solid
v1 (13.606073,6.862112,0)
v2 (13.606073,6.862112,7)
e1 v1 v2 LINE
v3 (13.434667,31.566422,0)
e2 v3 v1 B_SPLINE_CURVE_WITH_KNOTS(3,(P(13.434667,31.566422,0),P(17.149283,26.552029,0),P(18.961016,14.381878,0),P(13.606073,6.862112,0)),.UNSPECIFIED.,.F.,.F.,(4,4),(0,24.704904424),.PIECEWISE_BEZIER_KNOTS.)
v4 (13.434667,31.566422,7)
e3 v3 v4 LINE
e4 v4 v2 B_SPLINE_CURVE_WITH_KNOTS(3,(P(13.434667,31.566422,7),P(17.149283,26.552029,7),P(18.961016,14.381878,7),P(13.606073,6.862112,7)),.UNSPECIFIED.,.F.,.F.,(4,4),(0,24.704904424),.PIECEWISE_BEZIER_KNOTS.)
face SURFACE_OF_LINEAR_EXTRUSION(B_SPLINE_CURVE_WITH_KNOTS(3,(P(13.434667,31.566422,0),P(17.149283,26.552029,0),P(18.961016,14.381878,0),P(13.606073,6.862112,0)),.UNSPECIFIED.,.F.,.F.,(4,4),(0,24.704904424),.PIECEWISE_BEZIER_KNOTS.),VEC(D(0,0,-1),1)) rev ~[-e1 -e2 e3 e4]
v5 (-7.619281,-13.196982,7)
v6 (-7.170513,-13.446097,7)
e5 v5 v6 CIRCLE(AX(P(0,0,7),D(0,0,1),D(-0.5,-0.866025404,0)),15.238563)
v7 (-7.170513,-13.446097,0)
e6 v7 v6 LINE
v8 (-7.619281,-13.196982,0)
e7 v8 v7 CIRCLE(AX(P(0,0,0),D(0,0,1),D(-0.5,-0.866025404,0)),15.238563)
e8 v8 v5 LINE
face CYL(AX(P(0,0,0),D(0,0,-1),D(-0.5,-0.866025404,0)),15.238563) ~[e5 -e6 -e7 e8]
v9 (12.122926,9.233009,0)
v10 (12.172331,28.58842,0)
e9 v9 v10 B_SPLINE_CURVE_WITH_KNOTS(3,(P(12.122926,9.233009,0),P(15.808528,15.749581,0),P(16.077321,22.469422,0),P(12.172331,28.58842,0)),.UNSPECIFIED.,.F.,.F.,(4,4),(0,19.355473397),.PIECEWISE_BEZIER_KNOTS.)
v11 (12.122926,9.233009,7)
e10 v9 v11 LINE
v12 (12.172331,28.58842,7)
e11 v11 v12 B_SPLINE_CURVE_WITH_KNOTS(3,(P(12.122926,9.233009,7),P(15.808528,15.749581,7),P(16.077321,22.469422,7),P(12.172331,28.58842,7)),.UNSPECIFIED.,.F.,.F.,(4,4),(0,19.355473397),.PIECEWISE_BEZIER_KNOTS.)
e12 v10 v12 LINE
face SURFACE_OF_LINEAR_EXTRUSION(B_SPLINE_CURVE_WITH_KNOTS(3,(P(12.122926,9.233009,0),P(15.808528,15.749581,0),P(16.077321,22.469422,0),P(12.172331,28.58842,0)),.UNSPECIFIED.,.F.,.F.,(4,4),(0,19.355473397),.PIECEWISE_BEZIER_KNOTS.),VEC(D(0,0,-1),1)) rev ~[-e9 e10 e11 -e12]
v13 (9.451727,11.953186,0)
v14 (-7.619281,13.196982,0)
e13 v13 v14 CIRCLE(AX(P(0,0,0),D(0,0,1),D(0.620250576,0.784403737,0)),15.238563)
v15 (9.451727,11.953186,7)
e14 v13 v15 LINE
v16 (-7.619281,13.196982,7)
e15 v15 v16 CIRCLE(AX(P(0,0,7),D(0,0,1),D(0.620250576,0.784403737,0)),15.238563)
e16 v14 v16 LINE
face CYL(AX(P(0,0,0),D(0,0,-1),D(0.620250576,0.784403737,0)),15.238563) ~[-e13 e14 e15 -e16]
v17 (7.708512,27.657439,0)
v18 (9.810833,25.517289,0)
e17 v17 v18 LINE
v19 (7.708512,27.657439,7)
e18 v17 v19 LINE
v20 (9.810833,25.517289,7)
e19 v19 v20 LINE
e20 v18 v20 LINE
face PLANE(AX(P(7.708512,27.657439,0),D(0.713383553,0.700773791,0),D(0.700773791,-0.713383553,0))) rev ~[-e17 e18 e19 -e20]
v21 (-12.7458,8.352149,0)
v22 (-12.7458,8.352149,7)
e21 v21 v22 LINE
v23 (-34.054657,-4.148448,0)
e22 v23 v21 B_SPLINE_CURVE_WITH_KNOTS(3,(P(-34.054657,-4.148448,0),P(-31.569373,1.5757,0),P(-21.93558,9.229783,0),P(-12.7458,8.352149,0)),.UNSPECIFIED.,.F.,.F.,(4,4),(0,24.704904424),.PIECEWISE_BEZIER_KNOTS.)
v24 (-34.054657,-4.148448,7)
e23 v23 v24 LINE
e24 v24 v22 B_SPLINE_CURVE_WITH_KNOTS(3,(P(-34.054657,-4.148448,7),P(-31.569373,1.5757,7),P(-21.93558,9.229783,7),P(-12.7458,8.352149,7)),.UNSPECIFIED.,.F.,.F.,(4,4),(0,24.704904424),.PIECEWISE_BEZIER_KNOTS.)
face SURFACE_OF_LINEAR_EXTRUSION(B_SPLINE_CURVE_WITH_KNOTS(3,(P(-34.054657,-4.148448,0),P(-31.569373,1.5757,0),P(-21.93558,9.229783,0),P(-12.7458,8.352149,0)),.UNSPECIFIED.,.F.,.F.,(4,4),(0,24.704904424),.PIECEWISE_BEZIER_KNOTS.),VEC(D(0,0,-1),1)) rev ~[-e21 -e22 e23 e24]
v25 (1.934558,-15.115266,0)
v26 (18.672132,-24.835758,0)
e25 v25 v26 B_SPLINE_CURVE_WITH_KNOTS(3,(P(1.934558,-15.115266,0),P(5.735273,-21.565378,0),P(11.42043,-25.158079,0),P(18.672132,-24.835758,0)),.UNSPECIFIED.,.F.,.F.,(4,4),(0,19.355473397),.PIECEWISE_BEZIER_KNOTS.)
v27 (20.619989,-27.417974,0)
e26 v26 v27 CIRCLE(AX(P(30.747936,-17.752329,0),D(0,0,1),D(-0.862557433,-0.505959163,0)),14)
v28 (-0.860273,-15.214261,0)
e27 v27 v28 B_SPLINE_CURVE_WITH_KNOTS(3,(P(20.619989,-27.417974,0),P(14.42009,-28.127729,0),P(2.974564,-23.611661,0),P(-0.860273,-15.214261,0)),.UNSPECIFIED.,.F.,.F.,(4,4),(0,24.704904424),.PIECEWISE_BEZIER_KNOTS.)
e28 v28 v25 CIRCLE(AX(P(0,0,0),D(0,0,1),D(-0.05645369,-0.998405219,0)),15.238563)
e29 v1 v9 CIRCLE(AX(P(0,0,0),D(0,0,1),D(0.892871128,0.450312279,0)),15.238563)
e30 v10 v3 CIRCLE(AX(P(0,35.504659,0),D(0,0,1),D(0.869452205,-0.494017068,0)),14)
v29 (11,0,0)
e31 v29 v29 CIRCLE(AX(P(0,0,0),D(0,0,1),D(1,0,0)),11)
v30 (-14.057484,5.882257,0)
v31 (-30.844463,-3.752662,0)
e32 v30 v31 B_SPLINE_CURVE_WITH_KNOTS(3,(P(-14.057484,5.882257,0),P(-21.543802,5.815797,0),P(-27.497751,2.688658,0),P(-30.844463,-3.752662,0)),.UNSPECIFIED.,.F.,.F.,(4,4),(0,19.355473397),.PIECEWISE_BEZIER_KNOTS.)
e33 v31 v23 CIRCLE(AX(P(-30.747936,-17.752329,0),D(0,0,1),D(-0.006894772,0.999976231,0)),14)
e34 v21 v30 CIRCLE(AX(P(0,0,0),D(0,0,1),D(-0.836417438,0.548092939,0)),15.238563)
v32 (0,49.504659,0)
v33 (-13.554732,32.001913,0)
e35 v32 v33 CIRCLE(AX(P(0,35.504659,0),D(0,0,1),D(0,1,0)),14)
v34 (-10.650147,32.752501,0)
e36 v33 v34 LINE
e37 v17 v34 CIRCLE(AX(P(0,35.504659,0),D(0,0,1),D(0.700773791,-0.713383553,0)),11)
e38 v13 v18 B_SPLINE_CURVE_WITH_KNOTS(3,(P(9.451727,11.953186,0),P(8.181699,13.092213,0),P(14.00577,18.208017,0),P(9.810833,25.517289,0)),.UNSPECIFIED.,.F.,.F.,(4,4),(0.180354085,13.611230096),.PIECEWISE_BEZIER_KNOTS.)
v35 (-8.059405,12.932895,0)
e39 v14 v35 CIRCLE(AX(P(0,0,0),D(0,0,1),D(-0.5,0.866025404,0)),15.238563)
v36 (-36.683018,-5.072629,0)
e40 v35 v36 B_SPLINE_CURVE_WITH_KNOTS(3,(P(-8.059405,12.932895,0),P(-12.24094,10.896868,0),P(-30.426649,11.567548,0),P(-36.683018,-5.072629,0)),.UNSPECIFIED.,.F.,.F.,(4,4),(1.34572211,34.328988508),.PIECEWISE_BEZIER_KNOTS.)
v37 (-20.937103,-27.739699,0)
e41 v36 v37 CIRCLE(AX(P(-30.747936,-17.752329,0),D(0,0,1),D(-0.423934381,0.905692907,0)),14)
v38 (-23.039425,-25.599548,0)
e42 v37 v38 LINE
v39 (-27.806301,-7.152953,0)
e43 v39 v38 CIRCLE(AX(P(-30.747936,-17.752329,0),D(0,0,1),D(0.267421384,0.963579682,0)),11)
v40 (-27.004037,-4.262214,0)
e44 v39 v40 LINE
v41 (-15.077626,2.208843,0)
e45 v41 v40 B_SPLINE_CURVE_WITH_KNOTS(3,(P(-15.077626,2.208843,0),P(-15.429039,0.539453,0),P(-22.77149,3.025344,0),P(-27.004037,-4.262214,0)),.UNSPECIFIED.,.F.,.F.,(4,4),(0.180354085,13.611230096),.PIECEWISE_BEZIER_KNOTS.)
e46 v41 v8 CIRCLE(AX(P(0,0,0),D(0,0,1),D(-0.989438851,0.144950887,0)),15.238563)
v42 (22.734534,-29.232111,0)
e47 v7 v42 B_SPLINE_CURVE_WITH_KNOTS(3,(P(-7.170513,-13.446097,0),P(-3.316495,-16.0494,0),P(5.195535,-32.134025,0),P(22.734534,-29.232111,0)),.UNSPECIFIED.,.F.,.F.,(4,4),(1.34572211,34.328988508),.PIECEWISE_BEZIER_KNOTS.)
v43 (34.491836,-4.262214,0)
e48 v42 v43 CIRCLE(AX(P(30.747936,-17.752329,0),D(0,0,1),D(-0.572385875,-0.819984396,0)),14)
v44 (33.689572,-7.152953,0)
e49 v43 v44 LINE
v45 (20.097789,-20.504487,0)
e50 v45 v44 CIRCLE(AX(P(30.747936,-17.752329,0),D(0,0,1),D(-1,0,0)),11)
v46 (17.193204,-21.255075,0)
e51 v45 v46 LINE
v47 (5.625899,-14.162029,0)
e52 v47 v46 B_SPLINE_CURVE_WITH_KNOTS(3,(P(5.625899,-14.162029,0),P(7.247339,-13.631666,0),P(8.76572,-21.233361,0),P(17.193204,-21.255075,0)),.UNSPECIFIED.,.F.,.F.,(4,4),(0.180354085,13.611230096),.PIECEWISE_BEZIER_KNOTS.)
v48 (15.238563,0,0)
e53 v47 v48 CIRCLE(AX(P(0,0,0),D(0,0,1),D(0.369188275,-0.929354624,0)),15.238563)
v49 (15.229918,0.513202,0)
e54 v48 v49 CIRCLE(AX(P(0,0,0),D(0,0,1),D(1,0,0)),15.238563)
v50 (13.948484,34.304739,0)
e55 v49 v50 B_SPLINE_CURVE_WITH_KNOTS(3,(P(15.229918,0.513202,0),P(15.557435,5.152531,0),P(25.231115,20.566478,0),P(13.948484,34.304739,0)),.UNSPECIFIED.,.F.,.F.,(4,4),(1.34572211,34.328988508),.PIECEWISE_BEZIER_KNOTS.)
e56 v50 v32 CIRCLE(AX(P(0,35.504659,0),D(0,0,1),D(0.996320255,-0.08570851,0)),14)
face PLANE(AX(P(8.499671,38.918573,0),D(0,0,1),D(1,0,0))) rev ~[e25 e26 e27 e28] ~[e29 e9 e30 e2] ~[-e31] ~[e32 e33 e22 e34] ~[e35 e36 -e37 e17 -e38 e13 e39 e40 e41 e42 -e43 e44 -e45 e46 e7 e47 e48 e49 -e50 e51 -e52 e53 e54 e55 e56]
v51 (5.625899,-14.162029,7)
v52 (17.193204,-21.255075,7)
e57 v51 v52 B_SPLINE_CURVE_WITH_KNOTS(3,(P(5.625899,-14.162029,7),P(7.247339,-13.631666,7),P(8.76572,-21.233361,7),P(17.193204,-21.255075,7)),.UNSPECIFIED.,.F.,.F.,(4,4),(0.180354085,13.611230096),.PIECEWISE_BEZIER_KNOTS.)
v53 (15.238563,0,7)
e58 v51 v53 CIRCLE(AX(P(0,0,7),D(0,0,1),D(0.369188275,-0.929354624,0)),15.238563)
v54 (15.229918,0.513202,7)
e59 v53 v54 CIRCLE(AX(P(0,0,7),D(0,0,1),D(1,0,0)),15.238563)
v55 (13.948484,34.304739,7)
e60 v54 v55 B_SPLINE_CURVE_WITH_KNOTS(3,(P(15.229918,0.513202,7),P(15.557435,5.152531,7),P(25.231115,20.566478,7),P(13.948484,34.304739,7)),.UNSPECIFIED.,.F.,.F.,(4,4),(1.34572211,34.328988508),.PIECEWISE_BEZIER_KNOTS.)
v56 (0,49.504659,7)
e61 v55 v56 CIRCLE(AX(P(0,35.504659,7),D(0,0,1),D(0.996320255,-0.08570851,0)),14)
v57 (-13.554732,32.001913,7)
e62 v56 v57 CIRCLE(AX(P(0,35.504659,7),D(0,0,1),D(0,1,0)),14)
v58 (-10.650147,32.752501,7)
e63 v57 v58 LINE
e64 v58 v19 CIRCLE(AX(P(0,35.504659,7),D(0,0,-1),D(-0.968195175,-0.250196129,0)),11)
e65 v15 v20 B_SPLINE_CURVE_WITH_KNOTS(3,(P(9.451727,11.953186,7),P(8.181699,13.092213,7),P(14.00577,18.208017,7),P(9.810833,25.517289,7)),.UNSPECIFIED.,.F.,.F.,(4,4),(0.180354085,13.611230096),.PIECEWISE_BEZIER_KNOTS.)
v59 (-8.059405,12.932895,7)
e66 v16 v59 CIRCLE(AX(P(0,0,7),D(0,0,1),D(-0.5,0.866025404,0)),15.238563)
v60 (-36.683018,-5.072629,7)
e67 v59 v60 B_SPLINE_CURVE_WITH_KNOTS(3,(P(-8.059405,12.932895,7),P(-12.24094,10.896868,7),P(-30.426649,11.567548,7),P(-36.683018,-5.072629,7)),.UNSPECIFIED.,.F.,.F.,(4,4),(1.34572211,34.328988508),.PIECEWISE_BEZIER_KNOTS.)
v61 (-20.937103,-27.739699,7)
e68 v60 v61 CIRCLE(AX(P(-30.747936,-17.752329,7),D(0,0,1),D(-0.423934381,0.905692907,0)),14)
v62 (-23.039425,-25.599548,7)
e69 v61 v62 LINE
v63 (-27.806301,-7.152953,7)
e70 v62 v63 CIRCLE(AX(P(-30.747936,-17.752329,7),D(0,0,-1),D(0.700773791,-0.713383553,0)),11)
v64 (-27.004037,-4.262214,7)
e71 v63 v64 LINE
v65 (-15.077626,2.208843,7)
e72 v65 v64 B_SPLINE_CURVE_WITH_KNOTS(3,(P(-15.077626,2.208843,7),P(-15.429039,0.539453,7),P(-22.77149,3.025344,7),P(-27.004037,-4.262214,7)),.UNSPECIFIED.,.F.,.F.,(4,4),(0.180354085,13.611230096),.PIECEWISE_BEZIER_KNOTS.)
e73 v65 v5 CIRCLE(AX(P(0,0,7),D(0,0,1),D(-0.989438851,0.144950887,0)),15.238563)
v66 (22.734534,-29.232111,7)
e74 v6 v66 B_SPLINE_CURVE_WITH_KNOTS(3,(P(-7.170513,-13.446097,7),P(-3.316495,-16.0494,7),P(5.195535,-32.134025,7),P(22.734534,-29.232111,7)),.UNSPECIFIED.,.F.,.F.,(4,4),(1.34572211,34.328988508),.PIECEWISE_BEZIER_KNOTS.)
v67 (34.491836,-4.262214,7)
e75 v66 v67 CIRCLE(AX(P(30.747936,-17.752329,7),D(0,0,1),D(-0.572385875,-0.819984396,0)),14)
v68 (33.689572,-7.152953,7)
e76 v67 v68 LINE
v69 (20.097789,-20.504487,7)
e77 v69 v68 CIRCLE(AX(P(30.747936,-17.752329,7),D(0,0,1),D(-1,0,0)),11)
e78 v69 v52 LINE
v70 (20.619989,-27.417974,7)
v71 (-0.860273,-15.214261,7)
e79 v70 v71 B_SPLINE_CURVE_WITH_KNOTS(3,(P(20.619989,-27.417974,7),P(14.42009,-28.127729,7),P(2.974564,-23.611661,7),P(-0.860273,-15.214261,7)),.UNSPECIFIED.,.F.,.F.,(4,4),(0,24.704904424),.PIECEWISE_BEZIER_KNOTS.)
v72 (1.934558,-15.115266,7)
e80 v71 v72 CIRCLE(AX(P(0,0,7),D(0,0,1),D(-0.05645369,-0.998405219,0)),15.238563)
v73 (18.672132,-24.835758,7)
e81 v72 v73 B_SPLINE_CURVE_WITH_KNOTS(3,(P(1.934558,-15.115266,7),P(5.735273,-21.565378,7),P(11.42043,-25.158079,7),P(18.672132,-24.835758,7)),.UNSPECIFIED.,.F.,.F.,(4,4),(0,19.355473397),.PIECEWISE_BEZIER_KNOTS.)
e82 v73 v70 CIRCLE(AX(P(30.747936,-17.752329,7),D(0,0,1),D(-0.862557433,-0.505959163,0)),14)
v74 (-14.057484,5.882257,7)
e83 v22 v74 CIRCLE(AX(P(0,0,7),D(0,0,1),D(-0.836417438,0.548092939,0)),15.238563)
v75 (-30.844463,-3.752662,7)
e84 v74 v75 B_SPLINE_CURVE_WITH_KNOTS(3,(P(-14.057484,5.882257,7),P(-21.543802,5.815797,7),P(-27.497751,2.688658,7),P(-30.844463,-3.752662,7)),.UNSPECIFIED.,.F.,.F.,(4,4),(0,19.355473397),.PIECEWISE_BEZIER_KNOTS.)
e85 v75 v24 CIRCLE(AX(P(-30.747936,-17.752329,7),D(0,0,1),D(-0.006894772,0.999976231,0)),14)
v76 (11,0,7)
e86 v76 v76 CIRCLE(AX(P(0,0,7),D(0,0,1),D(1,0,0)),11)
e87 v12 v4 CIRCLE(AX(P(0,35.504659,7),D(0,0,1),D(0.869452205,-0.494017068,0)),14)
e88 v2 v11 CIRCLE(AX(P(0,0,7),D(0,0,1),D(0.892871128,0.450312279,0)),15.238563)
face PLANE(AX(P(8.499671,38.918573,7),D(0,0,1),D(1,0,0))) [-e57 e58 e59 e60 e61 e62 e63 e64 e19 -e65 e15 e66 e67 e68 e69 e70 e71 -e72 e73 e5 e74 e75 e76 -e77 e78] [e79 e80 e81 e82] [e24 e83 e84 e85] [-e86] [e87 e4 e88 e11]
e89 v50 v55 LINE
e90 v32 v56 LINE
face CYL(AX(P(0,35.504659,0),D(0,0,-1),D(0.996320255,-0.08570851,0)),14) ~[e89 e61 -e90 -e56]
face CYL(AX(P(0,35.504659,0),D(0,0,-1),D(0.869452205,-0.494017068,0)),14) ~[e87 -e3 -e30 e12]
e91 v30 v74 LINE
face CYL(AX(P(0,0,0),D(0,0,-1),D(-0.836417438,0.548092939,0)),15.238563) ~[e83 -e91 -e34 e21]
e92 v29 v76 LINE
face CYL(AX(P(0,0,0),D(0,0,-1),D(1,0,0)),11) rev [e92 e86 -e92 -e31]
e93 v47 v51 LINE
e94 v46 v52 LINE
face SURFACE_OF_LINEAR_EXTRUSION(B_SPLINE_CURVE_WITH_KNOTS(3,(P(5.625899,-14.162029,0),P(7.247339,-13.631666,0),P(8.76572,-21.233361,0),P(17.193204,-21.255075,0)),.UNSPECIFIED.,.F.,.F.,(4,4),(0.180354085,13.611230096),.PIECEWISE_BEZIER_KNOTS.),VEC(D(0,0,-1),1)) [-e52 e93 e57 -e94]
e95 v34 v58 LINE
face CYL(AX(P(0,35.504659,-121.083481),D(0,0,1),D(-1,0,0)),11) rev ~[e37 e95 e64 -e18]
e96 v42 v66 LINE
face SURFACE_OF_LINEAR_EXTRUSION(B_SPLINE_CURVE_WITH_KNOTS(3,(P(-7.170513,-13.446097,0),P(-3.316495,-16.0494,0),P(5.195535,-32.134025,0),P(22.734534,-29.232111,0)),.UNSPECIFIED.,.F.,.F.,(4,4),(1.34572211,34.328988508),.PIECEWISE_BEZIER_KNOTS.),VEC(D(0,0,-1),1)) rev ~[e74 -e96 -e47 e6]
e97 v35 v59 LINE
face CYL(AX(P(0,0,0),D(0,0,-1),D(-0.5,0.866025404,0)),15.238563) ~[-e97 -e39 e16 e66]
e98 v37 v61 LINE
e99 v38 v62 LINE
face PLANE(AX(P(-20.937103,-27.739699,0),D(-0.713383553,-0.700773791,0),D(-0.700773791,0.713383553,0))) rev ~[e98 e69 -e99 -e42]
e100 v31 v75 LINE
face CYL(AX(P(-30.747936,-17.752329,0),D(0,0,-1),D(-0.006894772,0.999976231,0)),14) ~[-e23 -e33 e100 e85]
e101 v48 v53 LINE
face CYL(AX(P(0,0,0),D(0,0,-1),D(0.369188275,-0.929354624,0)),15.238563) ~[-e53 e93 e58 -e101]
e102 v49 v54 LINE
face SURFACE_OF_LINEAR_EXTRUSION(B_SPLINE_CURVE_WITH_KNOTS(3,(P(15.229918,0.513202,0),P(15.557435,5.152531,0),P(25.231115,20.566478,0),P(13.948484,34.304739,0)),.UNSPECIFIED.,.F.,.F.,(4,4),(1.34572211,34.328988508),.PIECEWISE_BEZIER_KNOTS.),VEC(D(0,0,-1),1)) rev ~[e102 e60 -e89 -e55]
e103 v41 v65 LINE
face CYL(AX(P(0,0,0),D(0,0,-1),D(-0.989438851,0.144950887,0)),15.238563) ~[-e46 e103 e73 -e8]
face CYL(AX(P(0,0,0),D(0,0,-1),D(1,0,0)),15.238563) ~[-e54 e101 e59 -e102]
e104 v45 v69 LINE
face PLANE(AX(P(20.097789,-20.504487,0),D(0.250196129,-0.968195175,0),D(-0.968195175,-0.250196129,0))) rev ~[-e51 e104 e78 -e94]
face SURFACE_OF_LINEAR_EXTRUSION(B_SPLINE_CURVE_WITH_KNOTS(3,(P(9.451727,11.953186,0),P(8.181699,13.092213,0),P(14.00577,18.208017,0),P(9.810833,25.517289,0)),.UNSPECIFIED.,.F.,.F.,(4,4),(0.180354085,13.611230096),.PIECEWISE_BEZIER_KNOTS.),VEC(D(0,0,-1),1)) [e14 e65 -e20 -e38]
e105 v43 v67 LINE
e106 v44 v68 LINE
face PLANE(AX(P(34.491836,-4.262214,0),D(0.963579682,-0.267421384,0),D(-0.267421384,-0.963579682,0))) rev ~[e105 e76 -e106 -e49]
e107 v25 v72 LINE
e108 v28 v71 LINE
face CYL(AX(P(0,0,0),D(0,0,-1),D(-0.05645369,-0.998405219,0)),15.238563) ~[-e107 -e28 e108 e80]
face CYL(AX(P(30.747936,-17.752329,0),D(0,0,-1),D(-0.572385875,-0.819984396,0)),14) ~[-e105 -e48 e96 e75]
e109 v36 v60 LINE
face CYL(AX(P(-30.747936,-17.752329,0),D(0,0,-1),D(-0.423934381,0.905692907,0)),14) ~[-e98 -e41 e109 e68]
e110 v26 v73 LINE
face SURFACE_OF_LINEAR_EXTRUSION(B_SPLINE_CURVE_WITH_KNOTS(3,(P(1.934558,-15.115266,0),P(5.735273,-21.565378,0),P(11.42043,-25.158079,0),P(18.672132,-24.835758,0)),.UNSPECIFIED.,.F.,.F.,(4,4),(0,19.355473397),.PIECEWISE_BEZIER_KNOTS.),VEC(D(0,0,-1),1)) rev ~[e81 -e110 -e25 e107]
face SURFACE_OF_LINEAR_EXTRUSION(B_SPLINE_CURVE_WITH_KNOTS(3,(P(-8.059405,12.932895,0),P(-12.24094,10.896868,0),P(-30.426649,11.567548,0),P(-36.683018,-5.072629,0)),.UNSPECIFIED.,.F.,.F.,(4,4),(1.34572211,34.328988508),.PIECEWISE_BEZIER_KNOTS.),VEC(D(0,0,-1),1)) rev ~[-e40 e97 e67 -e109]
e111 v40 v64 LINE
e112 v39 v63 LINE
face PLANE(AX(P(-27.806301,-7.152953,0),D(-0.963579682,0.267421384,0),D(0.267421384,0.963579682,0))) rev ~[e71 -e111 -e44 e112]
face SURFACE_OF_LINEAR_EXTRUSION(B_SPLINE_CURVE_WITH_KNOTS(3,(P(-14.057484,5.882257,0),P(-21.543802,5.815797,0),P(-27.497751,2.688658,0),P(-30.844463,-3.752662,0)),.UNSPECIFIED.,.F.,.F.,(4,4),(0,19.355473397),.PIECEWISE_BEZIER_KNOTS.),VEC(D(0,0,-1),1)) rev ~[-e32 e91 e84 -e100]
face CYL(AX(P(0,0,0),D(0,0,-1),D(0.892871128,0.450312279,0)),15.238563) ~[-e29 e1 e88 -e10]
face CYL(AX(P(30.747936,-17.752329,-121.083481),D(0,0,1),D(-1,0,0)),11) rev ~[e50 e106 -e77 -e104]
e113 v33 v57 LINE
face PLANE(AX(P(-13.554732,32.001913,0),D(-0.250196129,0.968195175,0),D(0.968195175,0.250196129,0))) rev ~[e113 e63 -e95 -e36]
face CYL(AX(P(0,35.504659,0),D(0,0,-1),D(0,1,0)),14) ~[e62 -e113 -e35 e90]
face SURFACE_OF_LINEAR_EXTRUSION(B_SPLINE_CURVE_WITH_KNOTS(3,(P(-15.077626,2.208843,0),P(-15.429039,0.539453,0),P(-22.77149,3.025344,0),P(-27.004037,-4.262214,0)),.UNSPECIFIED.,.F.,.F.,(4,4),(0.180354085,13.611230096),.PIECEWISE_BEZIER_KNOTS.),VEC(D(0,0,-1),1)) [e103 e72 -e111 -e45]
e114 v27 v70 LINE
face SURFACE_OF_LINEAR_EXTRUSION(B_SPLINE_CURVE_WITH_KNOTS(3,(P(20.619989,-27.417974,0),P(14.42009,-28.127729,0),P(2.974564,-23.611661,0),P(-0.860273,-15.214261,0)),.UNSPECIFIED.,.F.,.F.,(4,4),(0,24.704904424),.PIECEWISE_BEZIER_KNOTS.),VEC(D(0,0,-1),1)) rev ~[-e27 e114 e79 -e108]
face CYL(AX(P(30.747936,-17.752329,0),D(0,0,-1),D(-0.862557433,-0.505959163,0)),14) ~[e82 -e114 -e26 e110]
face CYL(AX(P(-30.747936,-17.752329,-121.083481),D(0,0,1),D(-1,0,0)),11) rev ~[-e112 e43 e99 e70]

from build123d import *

# Parameters (mm, degrees)
F0_R     = 11
F1_DEPTH = 7
F2_D     = 22


with BuildPart() as f1:
    # F0 (on Top) → F1 (new body)
    with BuildSketch(Plane.XY):
        with BuildLine():
            Line((0, 49.5046585807), (0, 48.5046585807))
            Line((0, 48.5046585807), (0, 46.5046585807))
            ThreePointArc((0, 46.5046585807), (10.1813410196, 39.6688265699), (7.7085117019, 27.6574394974))
            Line((7.7085117019, 27.6574394974), (9.8108330751, 25.5172888383))
            ThreePointArc((9.8108330751, 25.5172888383), (11.0983257909, 26.9707752537), (12.1723308709, 28.588419634))
            ThreePointArc((12.1723308709, 28.588419634), (12.8897911228, 30.0408426238), (13.4346674784, 31.566421698))
            ThreePointArc((13.4346674784, 31.566421698), (13.7598632413, 32.9227671072), (13.9484835753, 34.3047394379))
            ThreePointArc((13.9484835753, 34.3047394379), (10.3150101309, 44.970416131), (0, 49.5046585807))
        make_face()
        with BuildLine():
            Line((0, 46.5046585807), (0, 48.5046585807))
            Line((0, 48.5046585807), (0, 49.5046585807))
            ThreePointArc((0, 49.5046585807), (-11.068840076, 44.0767516373), (-13.5547324515, 32.0019127766))
            Line((-13.5547324515, 32.0019127766), (-10.6501469262, 32.7525011632))
            ThreePointArc((-10.6501469262, 32.7525011632), (-8.696945774, 42.2398745538), (0, 46.5046585807))
        make_face()
        with BuildLine():
            ThreePointArc((7.7085117019, 27.6574394974), (10.1813410196, 39.6688265699), (0, 46.5046585807))
            Line((0, 46.5046585807), (0, 39.5046585807))
            ThreePointArc((0, 39.5046585807), (2.8284271247, 38.3330857055), (4, 35.5046585807))
            ThreePointArc((4, 35.5046585807), (3.6886569817, 33.9574644522), (2.8030951643, 32.6511243686))
            Line((2.8030951643, 32.6511243686), (7.7085117019, 27.6574394974))
        make_face()
        with BuildLine():
            Line((0, 39.5046585807), (0, 46.5046585807))
            ThreePointArc((0, 46.5046585807), (-8.696945774, 42.2398745538), (-10.6501469262, 32.7525011632))
            Line((-10.6501469262, 32.7525011632), (-3.8727807004, 34.5038740653))
            ThreePointArc((-3.8727807004, 34.5038740653), (-3.162525736, 37.9538280255), (0, 39.5046585807))
        make_face()
        with BuildLine():
            ThreePointArc((4, 35.5046585807), (2.8284271247, 38.3330857055), (0, 39.5046585807))
            Line((0, 39.5046585807), (0, 35.5046585807))
            Line((0, 35.5046585807), (2.8030951643, 32.6511243686))
            ThreePointArc((2.8030951643, 32.6511243686), (3.6886569817, 33.9574644522), (4, 35.5046585807))
        make_face()
        with BuildLine():
            Line((0, 35.5046585807), (0, 39.5046585807))
            ThreePointArc((0, 39.5046585807), (-3.162525736, 37.9538280255), (-3.8727807004, 34.5038740653))
            Line((-3.8727807004, 34.5038740653), (0, 35.5046585807))
        make_face()
        with BuildLine():
            add(Edge.make_bspline(
                [(15.2299184457, 0.5132023359), (15.5574350677, 5.1525312386), (25.2311147708, 20.5664775316), (13.9484835753, 34.3047394379)],
                knots=[1.3457221099, 1.3457221099, 1.3457221099, 1.3457221099, 34.3289885081, 34.3289885081, 34.3289885081, 34.3289885081], degree=3))
            ThreePointArc((13.9484835753, 34.3047394379), (13.7598632413, 32.9227671072), (13.4346674784, 31.566421698))
            add(Edge.make_bspline(
                [(13.4346674784, 31.566421698), (17.1492826194, 26.552028954), (18.9610160887, 14.381878078), (13.6060726459, 6.8621118948)],
                knots=[0, 0, 0, 0, 24.7049044237, 24.7049044237, 24.7049044237, 24.7049044237], degree=3))
            ThreePointArc((13.6060726459, 6.8621118948), (14.7633247849, 3.7759811699), (15.2299184457, 0.5132023359))
        make_face()
        with BuildLine():
            Line((2.8030951643, 32.6511243686), (0, 35.5046585807))
            Line((0, 35.5046585807), (-3.8727807004, 34.5038740653))
            ThreePointArc((-3.8727807004, 34.5038740653), (-1.0696855361, 31.6503398532), (2.8030951643, 32.6511243686))
        make_face()
        with BuildLine():
            ThreePointArc((12.1723308709, 28.588419634), (11.0983257909, 26.9707752537), (9.8108330751, 25.5172888383))
            add(Edge.make_bspline(
                [(9.4517272848, 11.9531855099), (8.1816991863, 13.0922129173), (14.0057700702, 18.2080167226), (9.8108330751, 25.5172888383)],
                knots=[0.1803540845, 0.1803540845, 0.1803540845, 0.1803540845, 13.6112300964, 13.6112300964, 13.6112300964, 13.6112300964], degree=3))
            ThreePointArc((9.4517272848, 11.9531855099), (9.4792735432, 11.9313522115), (9.5067693672, 11.9094554326))
            ThreePointArc((9.5067693672, 11.9094554326), (10.8973285777, 10.6518553487), (12.122925882, 9.2330092906))
            add(Edge.make_bspline(
                [(12.122925882, 9.2330092906), (15.8085282892, 15.7495811582), (16.0773210227, 22.4694218487), (12.1723308709, 28.588419634)],
                knots=[0, 0, 0, 0, 19.3554733968, 19.3554733968, 19.3554733968, 19.3554733968], degree=3))
        make_face()
        with BuildLine():
            add(Edge.make_bspline(
                [(15.2385626783, 0), (15.2187511021, 0.1525677237), (15.2165557195, 0.3239170357), (15.2299184457, 0.5132023359)],
                knots=[0, 0, 0, 0, 1.3457221099, 1.3457221099, 1.3457221099, 1.3457221099], degree=3))
            ThreePointArc((15.2299184457, 0.5132023359), (14.7633247849, 3.7759811699), (13.6060726459, 6.8621118948))
            ThreePointArc((13.6060726459, 6.8621118948), (12.9190026677, 8.0816559302), (12.122925882, 9.2330092906))
            ThreePointArc((12.122925882, 9.2330092906), (10.8973285777, 10.6518553487), (9.5067693672, 11.9094554326))
            add(Edge.make_bspline(
                [(9.5067693672, 11.9094554326), (9.4871151753, 11.923312155), (9.468781627, 11.9378902868), (9.4517272848, 11.9531855099)],
                knots=[0, 0, 0, 0, 0.1803540845, 0.1803540845, 0.1803540845, 0.1803540845], degree=3))
            ThreePointArc((9.4517272848, 11.9531855099), (1.1073491815, 15.1982752407), (-7.6192813392, 13.1969823966))
            add(Edge.make_bspline(
                [(-7.6192813392, 13.1969823966), (-7.7415030756, 13.1035412064), (-7.8887982414, 13.0159652933), (-8.059405483, 12.9328951036)],
                knots=[0, 0, 0, 0, 1.3457221099, 1.3457221099, 1.3457221099, 1.3457221099], degree=3))
            ThreePointArc((-8.059405483, 12.9328951036), (-10.6517580098, 10.8974237231), (-12.7457995474, 8.3521486097))
            ThreePointArc((-12.7457995474, 8.3521486097), (-13.458420674, 7.1473565367), (-14.05748354, 5.8822571367))
            ThreePointArc((-14.05748354, 5.8822571367), (-14.6734416183, 4.1114357074), (-15.0672756334, 2.2783760636))
            add(Edge.make_bspline(
                [(-15.0672756334, 2.2783760636), (-15.0694488111, 2.2544266729), (-15.0729070695, 2.2312602885), (-15.0776259502, 2.2088431833)],
                knots=[0, 0, 0, 0, 0.1803540845, 0.1803540845, 0.1803540845, 0.1803540845], degree=3))
            ThreePointArc((-15.0776259502, 2.2088431833), (-13.7157670429, -6.6401450983), (-7.6192813392, -13.1969823966))
            add(Edge.make_bspline(
                [(-7.6192813392, -13.1969823966), (-7.4772480265, -13.2561089301), (-7.3277574781, -13.339882329), (-7.1705129627, -13.4460974395)],
                knots=[0, 0, 0, 0, 1.3457221099, 1.3457221099, 1.3457221099, 1.3457221099], degree=3))
            ThreePointArc((-7.1705129627, -13.4460974395), (-4.1115667751, -14.673404893), (-0.8602730984, -15.2142605045))
            ThreePointArc((-0.8602730984, -15.2142605045), (0.5394180063, -15.2290124669), (1.934557658, -15.1152664273))
            ThreePointArc((1.934557658, -15.1152664273), (3.7761130406, -14.7632910561), (5.5605062662, -14.1878314962))
            add(Edge.make_bspline(
                [(5.5605062662, -14.1878314962), (5.5823336358, -14.1777388279), (5.6041254425, -14.1691505753), (5.6258986653, -14.1620286933)],
                knots=[0, 0, 0, 0, 0.1803540845, 0.1803540845, 0.1803540845, 0.1803540845], degree=3))
            ThreePointArc((5.6258986653, -14.1620286933), (12.6084178614, -8.5581301424), (15.2385626783, 0))
        make_face()
        Circle(F0_R, mode=Mode.SUBTRACT)
        with BuildLine():
            ThreePointArc((15.2385626783, 0), (15.2364014669, 0.2566375656), (15.2299184457, 0.5132023359))
            add(Edge.make_bspline(
                [(15.2385626783, 0), (15.2187511021, 0.1525677237), (15.2165557195, 0.3239170357), (15.2299184457, 0.5132023359)],
                knots=[0, 0, 0, 0, 1.3457221099, 1.3457221099, 1.3457221099, 1.3457221099], degree=3))
        make_face()
        with BuildLine():
            ThreePointArc((9.5067693672, 11.9094554326), (9.4792735432, 11.9313522115), (9.4517272848, 11.9531855099))
            add(Edge.make_bspline(
                [(9.5067693672, 11.9094554326), (9.4871151753, 11.923312155), (9.468781627, 11.9378902868), (9.4517272848, 11.9531855099)],
                knots=[0, 0, 0, 0, 0.1803540845, 0.1803540845, 0.1803540845, 0.1803540845], degree=3))
        make_face()
        with BuildLine():
            add(Edge.make_bspline(
                [(-7.6192813392, 13.1969823966), (-7.7415030756, 13.1035412064), (-7.8887982414, 13.0159652933), (-8.059405483, 12.9328951036)],
                knots=[0, 0, 0, 0, 1.3457221099, 1.3457221099, 1.3457221099, 1.3457221099], degree=3))
            ThreePointArc((-7.6192813392, 13.1969823966), (-7.8404553848, 13.0667919498), (-8.059405483, 12.9328951036))
        make_face()
        with BuildLine():
            add(Edge.make_bspline(
                [(5.6258986653, -14.1620286933), (7.247339385, -13.6316658001), (8.7657199992, -21.2333610417), (17.1932038321, -21.2550750945)],
                knots=[0.1803540845, 0.1803540845, 0.1803540845, 0.1803540845, 13.6112300964, 13.6112300964, 13.6112300964, 13.6112300964], degree=3))
            ThreePointArc((5.6258986653, -14.1620286933), (5.5932173451, -14.1749678036), (5.5605062662, -14.1878314962))
            ThreePointArc((5.5605062662, -14.1878314962), (3.7761130406, -14.7632910561), (1.934557658, -15.1152664273))
            add(Edge.make_bspline(
                [(1.934557658, -15.1152664273), (5.7352732373, -21.565377674), (11.4204296179, -25.1580793548), (18.6721322216, -24.8357575745)],
                knots=[0, 0, 0, 0, 19.3554733968, 19.3554733968, 19.3554733968, 19.3554733968], degree=3))
            ThreePointArc((18.6721322216, -24.8357575745), (17.808213634, -23.0968197012), (17.1932038321, -21.2550750945))
        make_face()
        with BuildLine():
            ThreePointArc((5.5605062662, -14.1878314962), (5.5932173451, -14.1749678036), (5.6258986653, -14.1620286933))
            add(Edge.make_bspline(
                [(5.5605062662, -14.1878314962), (5.5823336358, -14.1777388279), (5.6041254425, -14.1691505753), (5.6258986653, -14.1620286933)],
                knots=[0, 0, 0, 0, 0.1803540845, 0.1803540845, 0.1803540845, 0.1803540845], degree=3))
        make_face()
        with BuildLine():
            ThreePointArc((-12.7457995474, 8.3521486097), (-10.6517580098, 10.8974237231), (-8.059405483, 12.9328951036))
            add(Edge.make_bspline(
                [(-8.059405483, 12.9328951036), (-12.2409404802, 10.896868367), (-30.4266493942, 11.5675475915), (-36.683017611, -5.0726285984)],
                knots=[1.3457221099, 1.3457221099, 1.3457221099, 1.3457221099, 34.3289885081, 34.3289885081, 34.3289885081, 34.3289885081], degree=3))
            ThreePointArc((-36.683017611, -5.0726285984), (-35.3918842983, -4.544992434), (-34.0546568363, -4.1484475213))
            add(Edge.make_bspline(
                [(-34.0546568363, -4.1484475213), (-31.5693729059, 1.575699928), (-21.935579814, 9.2297825754), (-12.7457995474, 8.3521486097)],
                knots=[0, 0, 0, 0, 24.7049044237, 24.7049044237, 24.7049044237, 24.7049044237], degree=3))
        make_face()
        with BuildLine():
            Line((20.0977893574, -20.5044867079), (17.1932038321, -21.2550750945))
            ThreePointArc((17.1932038321, -21.2550750945), (17.808213634, -23.0968197012), (18.6721322216, -24.8357575745))
            ThreePointArc((18.6721322216, -24.8357575745), (19.5712373019, -26.1833078737), (20.6199893579, -27.4179741767))
            ThreePointArc((20.6199893579, -27.4179741767), (21.6320210571, -28.3777746731), (22.7345340357, -29.2321108394))
            ThreePointArc((22.7345340357, -29.2321108394), (43.4140763402, -23.7162957613), (34.49183566, -4.2622137438))
            Line((34.49183566, -4.2622137438), (33.6895715079, -7.1529527895))
            ThreePointArc((33.6895715079, -7.1529527895), (38.4564479855, -25.5995483737), (20.0977893574, -20.5044867079))
        make_face()
        with BuildLine():
            ThreePointArc((-34.0546568363, -4.1484475213), (-35.3918842983, -4.544992434), (-36.683017611, -5.0726285984))
            ThreePointArc((-36.683017611, -5.0726285984), (-42.2459527831, -25.7395451118), (-20.9371032085, -27.7396990328))
            Line((-20.9371032085, -27.7396990328), (-23.0394245817, -25.5995483737))
            ThreePointArc((-23.0394245817, -25.5995483737), (-41.3980832098, -20.5044867079), (-27.8063010593, -7.1529527895))
            Line((-27.8063010593, -7.1529527895), (-27.0040369072, -4.2622137438))
            ThreePointArc((-27.0040369072, -4.2622137438), (-28.9065394249, -3.8739555525), (-30.8444630925, -3.7526620595))
            ThreePointArc((-30.8444630925, -3.7526620595), (-32.4610284247, -3.8575347501), (-34.0546568363, -4.1484475213))
        make_face()
        with BuildLine():
            Line((26.8751555832, -18.7531138058), (20.0977893574, -20.5044867079))
            ThreePointArc((20.0977893574, -20.5044867079), (38.4564479855, -25.5995483737), (33.6895715079, -7.1529527895))
            Line((33.6895715079, -7.1529527895), (31.8176218197, -13.8980105628))
            ThreePointArc((31.8176218197, -13.8980105628), (33.9321741944, -15.3314557026), (34.7479362836, -17.7523292904))
            ThreePointArc((34.7479362836, -17.7523292904), (31.2523553546, -21.7203970066), (26.8751555832, -18.7531138058))
        make_face()
        with BuildLine():
            ThreePointArc((-15.0672756334, 2.2783760636), (-14.6734416183, 4.1114357074), (-14.05748354, 5.8822571367))
            add(Edge.make_bspline(
                [(-14.05748354, 5.8822571367), (-21.5438015265, 5.8157965158), (-27.4977506407, 2.6886575062), (-30.8444630925, -3.7526620595)],
                knots=[0, 0, 0, 0, 19.3554733968, 19.3554733968, 19.3554733968, 19.3554733968], degree=3))
            ThreePointArc((-30.8444630925, -3.7526620595), (-28.9065394249, -3.8739555525), (-27.0040369072, -4.2622137438))
            add(Edge.make_bspline(
                [(-15.0776259502, 2.2088431833), (-15.4290385713, 0.5394528828), (-22.7714900694, 3.025344319), (-27.0040369072, -4.2622137438)],
                knots=[0.1803540845, 0.1803540845, 0.1803540845, 0.1803540845, 13.6112300964, 13.6112300964, 13.6112300964, 13.6112300964], degree=3))
            ThreePointArc((-15.0776259502, 2.2088431833), (-15.0724908883, 2.243615592), (-15.0672756334, 2.2783760636))
        make_face()
        with BuildLine():
            add(Edge.make_bspline(
                [(20.6199893579, -27.4179741767), (14.4200902865, -28.1277288821), (2.9745637253, -23.6116606534), (-0.8602730984, -15.2142605045)],
                knots=[0, 0, 0, 0, 24.7049044237, 24.7049044237, 24.7049044237, 24.7049044237], degree=3))
            ThreePointArc((-0.8602730984, -15.2142605045), (-4.1115667751, -14.673404893), (-7.1705129627, -13.4460974395))
            add(Edge.make_bspline(
                [(-7.1705129627, -13.4460974395), (-3.3164945874, -16.0493996056), (5.1955346233, -32.1340251231), (22.7345340357, -29.2321108394)],
                knots=[1.3457221099, 1.3457221099, 1.3457221099, 1.3457221099, 34.3289885081, 34.3289885081, 34.3289885081, 34.3289885081], degree=3))
            ThreePointArc((22.7345340357, -29.2321108394), (21.6320210571, -28.3777746731), (20.6199893579, -27.4179741767))
        make_face()
        with BuildLine():
            Line((30.7479362836, -17.7523292904), (26.8751555832, -18.7531138058))
            ThreePointArc((26.8751555832, -18.7531138058), (31.2523553546, -21.7203970066), (34.7479362836, -17.7523292904))
            ThreePointArc((34.7479362836, -17.7523292904), (33.9321741944, -15.3314557026), (31.8176218197, -13.8980105628))
            Line((31.8176218197, -13.8980105628), (30.7479362836, -17.7523292904))
        make_face()
        with BuildLine():
            ThreePointArc((31.8176218197, -13.8980105628), (27.9448411193, -14.8987950782), (26.8751555832, -18.7531138058))
            Line((26.8751555832, -18.7531138058), (30.7479362836, -17.7523292904))
            Line((30.7479362836, -17.7523292904), (31.8176218197, -13.8980105628))
        make_face()
        with BuildLine():
            add(Edge.make_bspline(
                [(-15.0672756334, 2.2783760636), (-15.0694488111, 2.2544266729), (-15.0729070695, 2.2312602885), (-15.0776259502, 2.2088431833)],
                knots=[0, 0, 0, 0, 0.1803540845, 0.1803540845, 0.1803540845, 0.1803540845], degree=3))
            ThreePointArc((-15.0672756334, 2.2783760636), (-15.0724908883, 2.243615592), (-15.0776259502, 2.2088431833))
        make_face()
        with BuildLine():
            ThreePointArc((-27.8063010593, -7.1529527895), (-41.3980832098, -20.5044867079), (-23.0394245817, -25.5995483737))
            Line((-23.0394245817, -25.5995483737), (-27.9448411193, -20.6058635025))
            ThreePointArc((-27.9448411193, -20.6058635025), (-34.620716984, -18.7531138058), (-29.6782507475, -13.8980105628))
            Line((-29.6782507475, -13.8980105628), (-27.8063010593, -7.1529527895))
        make_face()
        with BuildLine():
            ThreePointArc((-7.6192813392, -13.1969823966), (-7.3959460821, -13.3234295154), (-7.1705129627, -13.4460974395))
            add(Edge.make_bspline(
                [(-7.6192813392, -13.1969823966), (-7.4772480265, -13.2561089301), (-7.3277574781, -13.339882329), (-7.1705129627, -13.4460974395)],
                knots=[0, 0, 0, 0, 1.3457221099, 1.3457221099, 1.3457221099, 1.3457221099], degree=3))
        make_face()
        with BuildLine():
            Line((-30.7479362836, -17.7523292904), (-27.9448411193, -20.6058635025))
            ThreePointArc((-27.9448411193, -20.6058635025), (-27.0592793019, -19.2995234189), (-26.7479362836, -17.7523292904))
            ThreePointArc((-26.7479362836, -17.7523292904), (-27.5636983729, -15.3314557026), (-29.6782507475, -13.8980105628))
            Line((-29.6782507475, -13.8980105628), (-30.7479362836, -17.7523292904))
        make_face()
        with BuildLine():
            ThreePointArc((-29.6782507475, -13.8980105628), (-34.620716984, -18.7531138058), (-27.9448411193, -20.6058635025))
            Line((-27.9448411193, -20.6058635025), (-30.7479362836, -17.7523292904))
            Line((-30.7479362836, -17.7523292904), (-29.6782507475, -13.8980105628))
        make_face()
    extrude(amount=F1_DEPTH)

    # F2 (through all)
    with Locations(Plane(origin=(0, 0, 0), x_dir=(1, 0, 0), z_dir=(0, 0, -1))):
        with Locations((0, -35.5046585807), (30.7479362836, 17.7523292904), (-30.7479362836, 17.7523292904)):
            Hole(F2_D / 2)


solid = f1.part
